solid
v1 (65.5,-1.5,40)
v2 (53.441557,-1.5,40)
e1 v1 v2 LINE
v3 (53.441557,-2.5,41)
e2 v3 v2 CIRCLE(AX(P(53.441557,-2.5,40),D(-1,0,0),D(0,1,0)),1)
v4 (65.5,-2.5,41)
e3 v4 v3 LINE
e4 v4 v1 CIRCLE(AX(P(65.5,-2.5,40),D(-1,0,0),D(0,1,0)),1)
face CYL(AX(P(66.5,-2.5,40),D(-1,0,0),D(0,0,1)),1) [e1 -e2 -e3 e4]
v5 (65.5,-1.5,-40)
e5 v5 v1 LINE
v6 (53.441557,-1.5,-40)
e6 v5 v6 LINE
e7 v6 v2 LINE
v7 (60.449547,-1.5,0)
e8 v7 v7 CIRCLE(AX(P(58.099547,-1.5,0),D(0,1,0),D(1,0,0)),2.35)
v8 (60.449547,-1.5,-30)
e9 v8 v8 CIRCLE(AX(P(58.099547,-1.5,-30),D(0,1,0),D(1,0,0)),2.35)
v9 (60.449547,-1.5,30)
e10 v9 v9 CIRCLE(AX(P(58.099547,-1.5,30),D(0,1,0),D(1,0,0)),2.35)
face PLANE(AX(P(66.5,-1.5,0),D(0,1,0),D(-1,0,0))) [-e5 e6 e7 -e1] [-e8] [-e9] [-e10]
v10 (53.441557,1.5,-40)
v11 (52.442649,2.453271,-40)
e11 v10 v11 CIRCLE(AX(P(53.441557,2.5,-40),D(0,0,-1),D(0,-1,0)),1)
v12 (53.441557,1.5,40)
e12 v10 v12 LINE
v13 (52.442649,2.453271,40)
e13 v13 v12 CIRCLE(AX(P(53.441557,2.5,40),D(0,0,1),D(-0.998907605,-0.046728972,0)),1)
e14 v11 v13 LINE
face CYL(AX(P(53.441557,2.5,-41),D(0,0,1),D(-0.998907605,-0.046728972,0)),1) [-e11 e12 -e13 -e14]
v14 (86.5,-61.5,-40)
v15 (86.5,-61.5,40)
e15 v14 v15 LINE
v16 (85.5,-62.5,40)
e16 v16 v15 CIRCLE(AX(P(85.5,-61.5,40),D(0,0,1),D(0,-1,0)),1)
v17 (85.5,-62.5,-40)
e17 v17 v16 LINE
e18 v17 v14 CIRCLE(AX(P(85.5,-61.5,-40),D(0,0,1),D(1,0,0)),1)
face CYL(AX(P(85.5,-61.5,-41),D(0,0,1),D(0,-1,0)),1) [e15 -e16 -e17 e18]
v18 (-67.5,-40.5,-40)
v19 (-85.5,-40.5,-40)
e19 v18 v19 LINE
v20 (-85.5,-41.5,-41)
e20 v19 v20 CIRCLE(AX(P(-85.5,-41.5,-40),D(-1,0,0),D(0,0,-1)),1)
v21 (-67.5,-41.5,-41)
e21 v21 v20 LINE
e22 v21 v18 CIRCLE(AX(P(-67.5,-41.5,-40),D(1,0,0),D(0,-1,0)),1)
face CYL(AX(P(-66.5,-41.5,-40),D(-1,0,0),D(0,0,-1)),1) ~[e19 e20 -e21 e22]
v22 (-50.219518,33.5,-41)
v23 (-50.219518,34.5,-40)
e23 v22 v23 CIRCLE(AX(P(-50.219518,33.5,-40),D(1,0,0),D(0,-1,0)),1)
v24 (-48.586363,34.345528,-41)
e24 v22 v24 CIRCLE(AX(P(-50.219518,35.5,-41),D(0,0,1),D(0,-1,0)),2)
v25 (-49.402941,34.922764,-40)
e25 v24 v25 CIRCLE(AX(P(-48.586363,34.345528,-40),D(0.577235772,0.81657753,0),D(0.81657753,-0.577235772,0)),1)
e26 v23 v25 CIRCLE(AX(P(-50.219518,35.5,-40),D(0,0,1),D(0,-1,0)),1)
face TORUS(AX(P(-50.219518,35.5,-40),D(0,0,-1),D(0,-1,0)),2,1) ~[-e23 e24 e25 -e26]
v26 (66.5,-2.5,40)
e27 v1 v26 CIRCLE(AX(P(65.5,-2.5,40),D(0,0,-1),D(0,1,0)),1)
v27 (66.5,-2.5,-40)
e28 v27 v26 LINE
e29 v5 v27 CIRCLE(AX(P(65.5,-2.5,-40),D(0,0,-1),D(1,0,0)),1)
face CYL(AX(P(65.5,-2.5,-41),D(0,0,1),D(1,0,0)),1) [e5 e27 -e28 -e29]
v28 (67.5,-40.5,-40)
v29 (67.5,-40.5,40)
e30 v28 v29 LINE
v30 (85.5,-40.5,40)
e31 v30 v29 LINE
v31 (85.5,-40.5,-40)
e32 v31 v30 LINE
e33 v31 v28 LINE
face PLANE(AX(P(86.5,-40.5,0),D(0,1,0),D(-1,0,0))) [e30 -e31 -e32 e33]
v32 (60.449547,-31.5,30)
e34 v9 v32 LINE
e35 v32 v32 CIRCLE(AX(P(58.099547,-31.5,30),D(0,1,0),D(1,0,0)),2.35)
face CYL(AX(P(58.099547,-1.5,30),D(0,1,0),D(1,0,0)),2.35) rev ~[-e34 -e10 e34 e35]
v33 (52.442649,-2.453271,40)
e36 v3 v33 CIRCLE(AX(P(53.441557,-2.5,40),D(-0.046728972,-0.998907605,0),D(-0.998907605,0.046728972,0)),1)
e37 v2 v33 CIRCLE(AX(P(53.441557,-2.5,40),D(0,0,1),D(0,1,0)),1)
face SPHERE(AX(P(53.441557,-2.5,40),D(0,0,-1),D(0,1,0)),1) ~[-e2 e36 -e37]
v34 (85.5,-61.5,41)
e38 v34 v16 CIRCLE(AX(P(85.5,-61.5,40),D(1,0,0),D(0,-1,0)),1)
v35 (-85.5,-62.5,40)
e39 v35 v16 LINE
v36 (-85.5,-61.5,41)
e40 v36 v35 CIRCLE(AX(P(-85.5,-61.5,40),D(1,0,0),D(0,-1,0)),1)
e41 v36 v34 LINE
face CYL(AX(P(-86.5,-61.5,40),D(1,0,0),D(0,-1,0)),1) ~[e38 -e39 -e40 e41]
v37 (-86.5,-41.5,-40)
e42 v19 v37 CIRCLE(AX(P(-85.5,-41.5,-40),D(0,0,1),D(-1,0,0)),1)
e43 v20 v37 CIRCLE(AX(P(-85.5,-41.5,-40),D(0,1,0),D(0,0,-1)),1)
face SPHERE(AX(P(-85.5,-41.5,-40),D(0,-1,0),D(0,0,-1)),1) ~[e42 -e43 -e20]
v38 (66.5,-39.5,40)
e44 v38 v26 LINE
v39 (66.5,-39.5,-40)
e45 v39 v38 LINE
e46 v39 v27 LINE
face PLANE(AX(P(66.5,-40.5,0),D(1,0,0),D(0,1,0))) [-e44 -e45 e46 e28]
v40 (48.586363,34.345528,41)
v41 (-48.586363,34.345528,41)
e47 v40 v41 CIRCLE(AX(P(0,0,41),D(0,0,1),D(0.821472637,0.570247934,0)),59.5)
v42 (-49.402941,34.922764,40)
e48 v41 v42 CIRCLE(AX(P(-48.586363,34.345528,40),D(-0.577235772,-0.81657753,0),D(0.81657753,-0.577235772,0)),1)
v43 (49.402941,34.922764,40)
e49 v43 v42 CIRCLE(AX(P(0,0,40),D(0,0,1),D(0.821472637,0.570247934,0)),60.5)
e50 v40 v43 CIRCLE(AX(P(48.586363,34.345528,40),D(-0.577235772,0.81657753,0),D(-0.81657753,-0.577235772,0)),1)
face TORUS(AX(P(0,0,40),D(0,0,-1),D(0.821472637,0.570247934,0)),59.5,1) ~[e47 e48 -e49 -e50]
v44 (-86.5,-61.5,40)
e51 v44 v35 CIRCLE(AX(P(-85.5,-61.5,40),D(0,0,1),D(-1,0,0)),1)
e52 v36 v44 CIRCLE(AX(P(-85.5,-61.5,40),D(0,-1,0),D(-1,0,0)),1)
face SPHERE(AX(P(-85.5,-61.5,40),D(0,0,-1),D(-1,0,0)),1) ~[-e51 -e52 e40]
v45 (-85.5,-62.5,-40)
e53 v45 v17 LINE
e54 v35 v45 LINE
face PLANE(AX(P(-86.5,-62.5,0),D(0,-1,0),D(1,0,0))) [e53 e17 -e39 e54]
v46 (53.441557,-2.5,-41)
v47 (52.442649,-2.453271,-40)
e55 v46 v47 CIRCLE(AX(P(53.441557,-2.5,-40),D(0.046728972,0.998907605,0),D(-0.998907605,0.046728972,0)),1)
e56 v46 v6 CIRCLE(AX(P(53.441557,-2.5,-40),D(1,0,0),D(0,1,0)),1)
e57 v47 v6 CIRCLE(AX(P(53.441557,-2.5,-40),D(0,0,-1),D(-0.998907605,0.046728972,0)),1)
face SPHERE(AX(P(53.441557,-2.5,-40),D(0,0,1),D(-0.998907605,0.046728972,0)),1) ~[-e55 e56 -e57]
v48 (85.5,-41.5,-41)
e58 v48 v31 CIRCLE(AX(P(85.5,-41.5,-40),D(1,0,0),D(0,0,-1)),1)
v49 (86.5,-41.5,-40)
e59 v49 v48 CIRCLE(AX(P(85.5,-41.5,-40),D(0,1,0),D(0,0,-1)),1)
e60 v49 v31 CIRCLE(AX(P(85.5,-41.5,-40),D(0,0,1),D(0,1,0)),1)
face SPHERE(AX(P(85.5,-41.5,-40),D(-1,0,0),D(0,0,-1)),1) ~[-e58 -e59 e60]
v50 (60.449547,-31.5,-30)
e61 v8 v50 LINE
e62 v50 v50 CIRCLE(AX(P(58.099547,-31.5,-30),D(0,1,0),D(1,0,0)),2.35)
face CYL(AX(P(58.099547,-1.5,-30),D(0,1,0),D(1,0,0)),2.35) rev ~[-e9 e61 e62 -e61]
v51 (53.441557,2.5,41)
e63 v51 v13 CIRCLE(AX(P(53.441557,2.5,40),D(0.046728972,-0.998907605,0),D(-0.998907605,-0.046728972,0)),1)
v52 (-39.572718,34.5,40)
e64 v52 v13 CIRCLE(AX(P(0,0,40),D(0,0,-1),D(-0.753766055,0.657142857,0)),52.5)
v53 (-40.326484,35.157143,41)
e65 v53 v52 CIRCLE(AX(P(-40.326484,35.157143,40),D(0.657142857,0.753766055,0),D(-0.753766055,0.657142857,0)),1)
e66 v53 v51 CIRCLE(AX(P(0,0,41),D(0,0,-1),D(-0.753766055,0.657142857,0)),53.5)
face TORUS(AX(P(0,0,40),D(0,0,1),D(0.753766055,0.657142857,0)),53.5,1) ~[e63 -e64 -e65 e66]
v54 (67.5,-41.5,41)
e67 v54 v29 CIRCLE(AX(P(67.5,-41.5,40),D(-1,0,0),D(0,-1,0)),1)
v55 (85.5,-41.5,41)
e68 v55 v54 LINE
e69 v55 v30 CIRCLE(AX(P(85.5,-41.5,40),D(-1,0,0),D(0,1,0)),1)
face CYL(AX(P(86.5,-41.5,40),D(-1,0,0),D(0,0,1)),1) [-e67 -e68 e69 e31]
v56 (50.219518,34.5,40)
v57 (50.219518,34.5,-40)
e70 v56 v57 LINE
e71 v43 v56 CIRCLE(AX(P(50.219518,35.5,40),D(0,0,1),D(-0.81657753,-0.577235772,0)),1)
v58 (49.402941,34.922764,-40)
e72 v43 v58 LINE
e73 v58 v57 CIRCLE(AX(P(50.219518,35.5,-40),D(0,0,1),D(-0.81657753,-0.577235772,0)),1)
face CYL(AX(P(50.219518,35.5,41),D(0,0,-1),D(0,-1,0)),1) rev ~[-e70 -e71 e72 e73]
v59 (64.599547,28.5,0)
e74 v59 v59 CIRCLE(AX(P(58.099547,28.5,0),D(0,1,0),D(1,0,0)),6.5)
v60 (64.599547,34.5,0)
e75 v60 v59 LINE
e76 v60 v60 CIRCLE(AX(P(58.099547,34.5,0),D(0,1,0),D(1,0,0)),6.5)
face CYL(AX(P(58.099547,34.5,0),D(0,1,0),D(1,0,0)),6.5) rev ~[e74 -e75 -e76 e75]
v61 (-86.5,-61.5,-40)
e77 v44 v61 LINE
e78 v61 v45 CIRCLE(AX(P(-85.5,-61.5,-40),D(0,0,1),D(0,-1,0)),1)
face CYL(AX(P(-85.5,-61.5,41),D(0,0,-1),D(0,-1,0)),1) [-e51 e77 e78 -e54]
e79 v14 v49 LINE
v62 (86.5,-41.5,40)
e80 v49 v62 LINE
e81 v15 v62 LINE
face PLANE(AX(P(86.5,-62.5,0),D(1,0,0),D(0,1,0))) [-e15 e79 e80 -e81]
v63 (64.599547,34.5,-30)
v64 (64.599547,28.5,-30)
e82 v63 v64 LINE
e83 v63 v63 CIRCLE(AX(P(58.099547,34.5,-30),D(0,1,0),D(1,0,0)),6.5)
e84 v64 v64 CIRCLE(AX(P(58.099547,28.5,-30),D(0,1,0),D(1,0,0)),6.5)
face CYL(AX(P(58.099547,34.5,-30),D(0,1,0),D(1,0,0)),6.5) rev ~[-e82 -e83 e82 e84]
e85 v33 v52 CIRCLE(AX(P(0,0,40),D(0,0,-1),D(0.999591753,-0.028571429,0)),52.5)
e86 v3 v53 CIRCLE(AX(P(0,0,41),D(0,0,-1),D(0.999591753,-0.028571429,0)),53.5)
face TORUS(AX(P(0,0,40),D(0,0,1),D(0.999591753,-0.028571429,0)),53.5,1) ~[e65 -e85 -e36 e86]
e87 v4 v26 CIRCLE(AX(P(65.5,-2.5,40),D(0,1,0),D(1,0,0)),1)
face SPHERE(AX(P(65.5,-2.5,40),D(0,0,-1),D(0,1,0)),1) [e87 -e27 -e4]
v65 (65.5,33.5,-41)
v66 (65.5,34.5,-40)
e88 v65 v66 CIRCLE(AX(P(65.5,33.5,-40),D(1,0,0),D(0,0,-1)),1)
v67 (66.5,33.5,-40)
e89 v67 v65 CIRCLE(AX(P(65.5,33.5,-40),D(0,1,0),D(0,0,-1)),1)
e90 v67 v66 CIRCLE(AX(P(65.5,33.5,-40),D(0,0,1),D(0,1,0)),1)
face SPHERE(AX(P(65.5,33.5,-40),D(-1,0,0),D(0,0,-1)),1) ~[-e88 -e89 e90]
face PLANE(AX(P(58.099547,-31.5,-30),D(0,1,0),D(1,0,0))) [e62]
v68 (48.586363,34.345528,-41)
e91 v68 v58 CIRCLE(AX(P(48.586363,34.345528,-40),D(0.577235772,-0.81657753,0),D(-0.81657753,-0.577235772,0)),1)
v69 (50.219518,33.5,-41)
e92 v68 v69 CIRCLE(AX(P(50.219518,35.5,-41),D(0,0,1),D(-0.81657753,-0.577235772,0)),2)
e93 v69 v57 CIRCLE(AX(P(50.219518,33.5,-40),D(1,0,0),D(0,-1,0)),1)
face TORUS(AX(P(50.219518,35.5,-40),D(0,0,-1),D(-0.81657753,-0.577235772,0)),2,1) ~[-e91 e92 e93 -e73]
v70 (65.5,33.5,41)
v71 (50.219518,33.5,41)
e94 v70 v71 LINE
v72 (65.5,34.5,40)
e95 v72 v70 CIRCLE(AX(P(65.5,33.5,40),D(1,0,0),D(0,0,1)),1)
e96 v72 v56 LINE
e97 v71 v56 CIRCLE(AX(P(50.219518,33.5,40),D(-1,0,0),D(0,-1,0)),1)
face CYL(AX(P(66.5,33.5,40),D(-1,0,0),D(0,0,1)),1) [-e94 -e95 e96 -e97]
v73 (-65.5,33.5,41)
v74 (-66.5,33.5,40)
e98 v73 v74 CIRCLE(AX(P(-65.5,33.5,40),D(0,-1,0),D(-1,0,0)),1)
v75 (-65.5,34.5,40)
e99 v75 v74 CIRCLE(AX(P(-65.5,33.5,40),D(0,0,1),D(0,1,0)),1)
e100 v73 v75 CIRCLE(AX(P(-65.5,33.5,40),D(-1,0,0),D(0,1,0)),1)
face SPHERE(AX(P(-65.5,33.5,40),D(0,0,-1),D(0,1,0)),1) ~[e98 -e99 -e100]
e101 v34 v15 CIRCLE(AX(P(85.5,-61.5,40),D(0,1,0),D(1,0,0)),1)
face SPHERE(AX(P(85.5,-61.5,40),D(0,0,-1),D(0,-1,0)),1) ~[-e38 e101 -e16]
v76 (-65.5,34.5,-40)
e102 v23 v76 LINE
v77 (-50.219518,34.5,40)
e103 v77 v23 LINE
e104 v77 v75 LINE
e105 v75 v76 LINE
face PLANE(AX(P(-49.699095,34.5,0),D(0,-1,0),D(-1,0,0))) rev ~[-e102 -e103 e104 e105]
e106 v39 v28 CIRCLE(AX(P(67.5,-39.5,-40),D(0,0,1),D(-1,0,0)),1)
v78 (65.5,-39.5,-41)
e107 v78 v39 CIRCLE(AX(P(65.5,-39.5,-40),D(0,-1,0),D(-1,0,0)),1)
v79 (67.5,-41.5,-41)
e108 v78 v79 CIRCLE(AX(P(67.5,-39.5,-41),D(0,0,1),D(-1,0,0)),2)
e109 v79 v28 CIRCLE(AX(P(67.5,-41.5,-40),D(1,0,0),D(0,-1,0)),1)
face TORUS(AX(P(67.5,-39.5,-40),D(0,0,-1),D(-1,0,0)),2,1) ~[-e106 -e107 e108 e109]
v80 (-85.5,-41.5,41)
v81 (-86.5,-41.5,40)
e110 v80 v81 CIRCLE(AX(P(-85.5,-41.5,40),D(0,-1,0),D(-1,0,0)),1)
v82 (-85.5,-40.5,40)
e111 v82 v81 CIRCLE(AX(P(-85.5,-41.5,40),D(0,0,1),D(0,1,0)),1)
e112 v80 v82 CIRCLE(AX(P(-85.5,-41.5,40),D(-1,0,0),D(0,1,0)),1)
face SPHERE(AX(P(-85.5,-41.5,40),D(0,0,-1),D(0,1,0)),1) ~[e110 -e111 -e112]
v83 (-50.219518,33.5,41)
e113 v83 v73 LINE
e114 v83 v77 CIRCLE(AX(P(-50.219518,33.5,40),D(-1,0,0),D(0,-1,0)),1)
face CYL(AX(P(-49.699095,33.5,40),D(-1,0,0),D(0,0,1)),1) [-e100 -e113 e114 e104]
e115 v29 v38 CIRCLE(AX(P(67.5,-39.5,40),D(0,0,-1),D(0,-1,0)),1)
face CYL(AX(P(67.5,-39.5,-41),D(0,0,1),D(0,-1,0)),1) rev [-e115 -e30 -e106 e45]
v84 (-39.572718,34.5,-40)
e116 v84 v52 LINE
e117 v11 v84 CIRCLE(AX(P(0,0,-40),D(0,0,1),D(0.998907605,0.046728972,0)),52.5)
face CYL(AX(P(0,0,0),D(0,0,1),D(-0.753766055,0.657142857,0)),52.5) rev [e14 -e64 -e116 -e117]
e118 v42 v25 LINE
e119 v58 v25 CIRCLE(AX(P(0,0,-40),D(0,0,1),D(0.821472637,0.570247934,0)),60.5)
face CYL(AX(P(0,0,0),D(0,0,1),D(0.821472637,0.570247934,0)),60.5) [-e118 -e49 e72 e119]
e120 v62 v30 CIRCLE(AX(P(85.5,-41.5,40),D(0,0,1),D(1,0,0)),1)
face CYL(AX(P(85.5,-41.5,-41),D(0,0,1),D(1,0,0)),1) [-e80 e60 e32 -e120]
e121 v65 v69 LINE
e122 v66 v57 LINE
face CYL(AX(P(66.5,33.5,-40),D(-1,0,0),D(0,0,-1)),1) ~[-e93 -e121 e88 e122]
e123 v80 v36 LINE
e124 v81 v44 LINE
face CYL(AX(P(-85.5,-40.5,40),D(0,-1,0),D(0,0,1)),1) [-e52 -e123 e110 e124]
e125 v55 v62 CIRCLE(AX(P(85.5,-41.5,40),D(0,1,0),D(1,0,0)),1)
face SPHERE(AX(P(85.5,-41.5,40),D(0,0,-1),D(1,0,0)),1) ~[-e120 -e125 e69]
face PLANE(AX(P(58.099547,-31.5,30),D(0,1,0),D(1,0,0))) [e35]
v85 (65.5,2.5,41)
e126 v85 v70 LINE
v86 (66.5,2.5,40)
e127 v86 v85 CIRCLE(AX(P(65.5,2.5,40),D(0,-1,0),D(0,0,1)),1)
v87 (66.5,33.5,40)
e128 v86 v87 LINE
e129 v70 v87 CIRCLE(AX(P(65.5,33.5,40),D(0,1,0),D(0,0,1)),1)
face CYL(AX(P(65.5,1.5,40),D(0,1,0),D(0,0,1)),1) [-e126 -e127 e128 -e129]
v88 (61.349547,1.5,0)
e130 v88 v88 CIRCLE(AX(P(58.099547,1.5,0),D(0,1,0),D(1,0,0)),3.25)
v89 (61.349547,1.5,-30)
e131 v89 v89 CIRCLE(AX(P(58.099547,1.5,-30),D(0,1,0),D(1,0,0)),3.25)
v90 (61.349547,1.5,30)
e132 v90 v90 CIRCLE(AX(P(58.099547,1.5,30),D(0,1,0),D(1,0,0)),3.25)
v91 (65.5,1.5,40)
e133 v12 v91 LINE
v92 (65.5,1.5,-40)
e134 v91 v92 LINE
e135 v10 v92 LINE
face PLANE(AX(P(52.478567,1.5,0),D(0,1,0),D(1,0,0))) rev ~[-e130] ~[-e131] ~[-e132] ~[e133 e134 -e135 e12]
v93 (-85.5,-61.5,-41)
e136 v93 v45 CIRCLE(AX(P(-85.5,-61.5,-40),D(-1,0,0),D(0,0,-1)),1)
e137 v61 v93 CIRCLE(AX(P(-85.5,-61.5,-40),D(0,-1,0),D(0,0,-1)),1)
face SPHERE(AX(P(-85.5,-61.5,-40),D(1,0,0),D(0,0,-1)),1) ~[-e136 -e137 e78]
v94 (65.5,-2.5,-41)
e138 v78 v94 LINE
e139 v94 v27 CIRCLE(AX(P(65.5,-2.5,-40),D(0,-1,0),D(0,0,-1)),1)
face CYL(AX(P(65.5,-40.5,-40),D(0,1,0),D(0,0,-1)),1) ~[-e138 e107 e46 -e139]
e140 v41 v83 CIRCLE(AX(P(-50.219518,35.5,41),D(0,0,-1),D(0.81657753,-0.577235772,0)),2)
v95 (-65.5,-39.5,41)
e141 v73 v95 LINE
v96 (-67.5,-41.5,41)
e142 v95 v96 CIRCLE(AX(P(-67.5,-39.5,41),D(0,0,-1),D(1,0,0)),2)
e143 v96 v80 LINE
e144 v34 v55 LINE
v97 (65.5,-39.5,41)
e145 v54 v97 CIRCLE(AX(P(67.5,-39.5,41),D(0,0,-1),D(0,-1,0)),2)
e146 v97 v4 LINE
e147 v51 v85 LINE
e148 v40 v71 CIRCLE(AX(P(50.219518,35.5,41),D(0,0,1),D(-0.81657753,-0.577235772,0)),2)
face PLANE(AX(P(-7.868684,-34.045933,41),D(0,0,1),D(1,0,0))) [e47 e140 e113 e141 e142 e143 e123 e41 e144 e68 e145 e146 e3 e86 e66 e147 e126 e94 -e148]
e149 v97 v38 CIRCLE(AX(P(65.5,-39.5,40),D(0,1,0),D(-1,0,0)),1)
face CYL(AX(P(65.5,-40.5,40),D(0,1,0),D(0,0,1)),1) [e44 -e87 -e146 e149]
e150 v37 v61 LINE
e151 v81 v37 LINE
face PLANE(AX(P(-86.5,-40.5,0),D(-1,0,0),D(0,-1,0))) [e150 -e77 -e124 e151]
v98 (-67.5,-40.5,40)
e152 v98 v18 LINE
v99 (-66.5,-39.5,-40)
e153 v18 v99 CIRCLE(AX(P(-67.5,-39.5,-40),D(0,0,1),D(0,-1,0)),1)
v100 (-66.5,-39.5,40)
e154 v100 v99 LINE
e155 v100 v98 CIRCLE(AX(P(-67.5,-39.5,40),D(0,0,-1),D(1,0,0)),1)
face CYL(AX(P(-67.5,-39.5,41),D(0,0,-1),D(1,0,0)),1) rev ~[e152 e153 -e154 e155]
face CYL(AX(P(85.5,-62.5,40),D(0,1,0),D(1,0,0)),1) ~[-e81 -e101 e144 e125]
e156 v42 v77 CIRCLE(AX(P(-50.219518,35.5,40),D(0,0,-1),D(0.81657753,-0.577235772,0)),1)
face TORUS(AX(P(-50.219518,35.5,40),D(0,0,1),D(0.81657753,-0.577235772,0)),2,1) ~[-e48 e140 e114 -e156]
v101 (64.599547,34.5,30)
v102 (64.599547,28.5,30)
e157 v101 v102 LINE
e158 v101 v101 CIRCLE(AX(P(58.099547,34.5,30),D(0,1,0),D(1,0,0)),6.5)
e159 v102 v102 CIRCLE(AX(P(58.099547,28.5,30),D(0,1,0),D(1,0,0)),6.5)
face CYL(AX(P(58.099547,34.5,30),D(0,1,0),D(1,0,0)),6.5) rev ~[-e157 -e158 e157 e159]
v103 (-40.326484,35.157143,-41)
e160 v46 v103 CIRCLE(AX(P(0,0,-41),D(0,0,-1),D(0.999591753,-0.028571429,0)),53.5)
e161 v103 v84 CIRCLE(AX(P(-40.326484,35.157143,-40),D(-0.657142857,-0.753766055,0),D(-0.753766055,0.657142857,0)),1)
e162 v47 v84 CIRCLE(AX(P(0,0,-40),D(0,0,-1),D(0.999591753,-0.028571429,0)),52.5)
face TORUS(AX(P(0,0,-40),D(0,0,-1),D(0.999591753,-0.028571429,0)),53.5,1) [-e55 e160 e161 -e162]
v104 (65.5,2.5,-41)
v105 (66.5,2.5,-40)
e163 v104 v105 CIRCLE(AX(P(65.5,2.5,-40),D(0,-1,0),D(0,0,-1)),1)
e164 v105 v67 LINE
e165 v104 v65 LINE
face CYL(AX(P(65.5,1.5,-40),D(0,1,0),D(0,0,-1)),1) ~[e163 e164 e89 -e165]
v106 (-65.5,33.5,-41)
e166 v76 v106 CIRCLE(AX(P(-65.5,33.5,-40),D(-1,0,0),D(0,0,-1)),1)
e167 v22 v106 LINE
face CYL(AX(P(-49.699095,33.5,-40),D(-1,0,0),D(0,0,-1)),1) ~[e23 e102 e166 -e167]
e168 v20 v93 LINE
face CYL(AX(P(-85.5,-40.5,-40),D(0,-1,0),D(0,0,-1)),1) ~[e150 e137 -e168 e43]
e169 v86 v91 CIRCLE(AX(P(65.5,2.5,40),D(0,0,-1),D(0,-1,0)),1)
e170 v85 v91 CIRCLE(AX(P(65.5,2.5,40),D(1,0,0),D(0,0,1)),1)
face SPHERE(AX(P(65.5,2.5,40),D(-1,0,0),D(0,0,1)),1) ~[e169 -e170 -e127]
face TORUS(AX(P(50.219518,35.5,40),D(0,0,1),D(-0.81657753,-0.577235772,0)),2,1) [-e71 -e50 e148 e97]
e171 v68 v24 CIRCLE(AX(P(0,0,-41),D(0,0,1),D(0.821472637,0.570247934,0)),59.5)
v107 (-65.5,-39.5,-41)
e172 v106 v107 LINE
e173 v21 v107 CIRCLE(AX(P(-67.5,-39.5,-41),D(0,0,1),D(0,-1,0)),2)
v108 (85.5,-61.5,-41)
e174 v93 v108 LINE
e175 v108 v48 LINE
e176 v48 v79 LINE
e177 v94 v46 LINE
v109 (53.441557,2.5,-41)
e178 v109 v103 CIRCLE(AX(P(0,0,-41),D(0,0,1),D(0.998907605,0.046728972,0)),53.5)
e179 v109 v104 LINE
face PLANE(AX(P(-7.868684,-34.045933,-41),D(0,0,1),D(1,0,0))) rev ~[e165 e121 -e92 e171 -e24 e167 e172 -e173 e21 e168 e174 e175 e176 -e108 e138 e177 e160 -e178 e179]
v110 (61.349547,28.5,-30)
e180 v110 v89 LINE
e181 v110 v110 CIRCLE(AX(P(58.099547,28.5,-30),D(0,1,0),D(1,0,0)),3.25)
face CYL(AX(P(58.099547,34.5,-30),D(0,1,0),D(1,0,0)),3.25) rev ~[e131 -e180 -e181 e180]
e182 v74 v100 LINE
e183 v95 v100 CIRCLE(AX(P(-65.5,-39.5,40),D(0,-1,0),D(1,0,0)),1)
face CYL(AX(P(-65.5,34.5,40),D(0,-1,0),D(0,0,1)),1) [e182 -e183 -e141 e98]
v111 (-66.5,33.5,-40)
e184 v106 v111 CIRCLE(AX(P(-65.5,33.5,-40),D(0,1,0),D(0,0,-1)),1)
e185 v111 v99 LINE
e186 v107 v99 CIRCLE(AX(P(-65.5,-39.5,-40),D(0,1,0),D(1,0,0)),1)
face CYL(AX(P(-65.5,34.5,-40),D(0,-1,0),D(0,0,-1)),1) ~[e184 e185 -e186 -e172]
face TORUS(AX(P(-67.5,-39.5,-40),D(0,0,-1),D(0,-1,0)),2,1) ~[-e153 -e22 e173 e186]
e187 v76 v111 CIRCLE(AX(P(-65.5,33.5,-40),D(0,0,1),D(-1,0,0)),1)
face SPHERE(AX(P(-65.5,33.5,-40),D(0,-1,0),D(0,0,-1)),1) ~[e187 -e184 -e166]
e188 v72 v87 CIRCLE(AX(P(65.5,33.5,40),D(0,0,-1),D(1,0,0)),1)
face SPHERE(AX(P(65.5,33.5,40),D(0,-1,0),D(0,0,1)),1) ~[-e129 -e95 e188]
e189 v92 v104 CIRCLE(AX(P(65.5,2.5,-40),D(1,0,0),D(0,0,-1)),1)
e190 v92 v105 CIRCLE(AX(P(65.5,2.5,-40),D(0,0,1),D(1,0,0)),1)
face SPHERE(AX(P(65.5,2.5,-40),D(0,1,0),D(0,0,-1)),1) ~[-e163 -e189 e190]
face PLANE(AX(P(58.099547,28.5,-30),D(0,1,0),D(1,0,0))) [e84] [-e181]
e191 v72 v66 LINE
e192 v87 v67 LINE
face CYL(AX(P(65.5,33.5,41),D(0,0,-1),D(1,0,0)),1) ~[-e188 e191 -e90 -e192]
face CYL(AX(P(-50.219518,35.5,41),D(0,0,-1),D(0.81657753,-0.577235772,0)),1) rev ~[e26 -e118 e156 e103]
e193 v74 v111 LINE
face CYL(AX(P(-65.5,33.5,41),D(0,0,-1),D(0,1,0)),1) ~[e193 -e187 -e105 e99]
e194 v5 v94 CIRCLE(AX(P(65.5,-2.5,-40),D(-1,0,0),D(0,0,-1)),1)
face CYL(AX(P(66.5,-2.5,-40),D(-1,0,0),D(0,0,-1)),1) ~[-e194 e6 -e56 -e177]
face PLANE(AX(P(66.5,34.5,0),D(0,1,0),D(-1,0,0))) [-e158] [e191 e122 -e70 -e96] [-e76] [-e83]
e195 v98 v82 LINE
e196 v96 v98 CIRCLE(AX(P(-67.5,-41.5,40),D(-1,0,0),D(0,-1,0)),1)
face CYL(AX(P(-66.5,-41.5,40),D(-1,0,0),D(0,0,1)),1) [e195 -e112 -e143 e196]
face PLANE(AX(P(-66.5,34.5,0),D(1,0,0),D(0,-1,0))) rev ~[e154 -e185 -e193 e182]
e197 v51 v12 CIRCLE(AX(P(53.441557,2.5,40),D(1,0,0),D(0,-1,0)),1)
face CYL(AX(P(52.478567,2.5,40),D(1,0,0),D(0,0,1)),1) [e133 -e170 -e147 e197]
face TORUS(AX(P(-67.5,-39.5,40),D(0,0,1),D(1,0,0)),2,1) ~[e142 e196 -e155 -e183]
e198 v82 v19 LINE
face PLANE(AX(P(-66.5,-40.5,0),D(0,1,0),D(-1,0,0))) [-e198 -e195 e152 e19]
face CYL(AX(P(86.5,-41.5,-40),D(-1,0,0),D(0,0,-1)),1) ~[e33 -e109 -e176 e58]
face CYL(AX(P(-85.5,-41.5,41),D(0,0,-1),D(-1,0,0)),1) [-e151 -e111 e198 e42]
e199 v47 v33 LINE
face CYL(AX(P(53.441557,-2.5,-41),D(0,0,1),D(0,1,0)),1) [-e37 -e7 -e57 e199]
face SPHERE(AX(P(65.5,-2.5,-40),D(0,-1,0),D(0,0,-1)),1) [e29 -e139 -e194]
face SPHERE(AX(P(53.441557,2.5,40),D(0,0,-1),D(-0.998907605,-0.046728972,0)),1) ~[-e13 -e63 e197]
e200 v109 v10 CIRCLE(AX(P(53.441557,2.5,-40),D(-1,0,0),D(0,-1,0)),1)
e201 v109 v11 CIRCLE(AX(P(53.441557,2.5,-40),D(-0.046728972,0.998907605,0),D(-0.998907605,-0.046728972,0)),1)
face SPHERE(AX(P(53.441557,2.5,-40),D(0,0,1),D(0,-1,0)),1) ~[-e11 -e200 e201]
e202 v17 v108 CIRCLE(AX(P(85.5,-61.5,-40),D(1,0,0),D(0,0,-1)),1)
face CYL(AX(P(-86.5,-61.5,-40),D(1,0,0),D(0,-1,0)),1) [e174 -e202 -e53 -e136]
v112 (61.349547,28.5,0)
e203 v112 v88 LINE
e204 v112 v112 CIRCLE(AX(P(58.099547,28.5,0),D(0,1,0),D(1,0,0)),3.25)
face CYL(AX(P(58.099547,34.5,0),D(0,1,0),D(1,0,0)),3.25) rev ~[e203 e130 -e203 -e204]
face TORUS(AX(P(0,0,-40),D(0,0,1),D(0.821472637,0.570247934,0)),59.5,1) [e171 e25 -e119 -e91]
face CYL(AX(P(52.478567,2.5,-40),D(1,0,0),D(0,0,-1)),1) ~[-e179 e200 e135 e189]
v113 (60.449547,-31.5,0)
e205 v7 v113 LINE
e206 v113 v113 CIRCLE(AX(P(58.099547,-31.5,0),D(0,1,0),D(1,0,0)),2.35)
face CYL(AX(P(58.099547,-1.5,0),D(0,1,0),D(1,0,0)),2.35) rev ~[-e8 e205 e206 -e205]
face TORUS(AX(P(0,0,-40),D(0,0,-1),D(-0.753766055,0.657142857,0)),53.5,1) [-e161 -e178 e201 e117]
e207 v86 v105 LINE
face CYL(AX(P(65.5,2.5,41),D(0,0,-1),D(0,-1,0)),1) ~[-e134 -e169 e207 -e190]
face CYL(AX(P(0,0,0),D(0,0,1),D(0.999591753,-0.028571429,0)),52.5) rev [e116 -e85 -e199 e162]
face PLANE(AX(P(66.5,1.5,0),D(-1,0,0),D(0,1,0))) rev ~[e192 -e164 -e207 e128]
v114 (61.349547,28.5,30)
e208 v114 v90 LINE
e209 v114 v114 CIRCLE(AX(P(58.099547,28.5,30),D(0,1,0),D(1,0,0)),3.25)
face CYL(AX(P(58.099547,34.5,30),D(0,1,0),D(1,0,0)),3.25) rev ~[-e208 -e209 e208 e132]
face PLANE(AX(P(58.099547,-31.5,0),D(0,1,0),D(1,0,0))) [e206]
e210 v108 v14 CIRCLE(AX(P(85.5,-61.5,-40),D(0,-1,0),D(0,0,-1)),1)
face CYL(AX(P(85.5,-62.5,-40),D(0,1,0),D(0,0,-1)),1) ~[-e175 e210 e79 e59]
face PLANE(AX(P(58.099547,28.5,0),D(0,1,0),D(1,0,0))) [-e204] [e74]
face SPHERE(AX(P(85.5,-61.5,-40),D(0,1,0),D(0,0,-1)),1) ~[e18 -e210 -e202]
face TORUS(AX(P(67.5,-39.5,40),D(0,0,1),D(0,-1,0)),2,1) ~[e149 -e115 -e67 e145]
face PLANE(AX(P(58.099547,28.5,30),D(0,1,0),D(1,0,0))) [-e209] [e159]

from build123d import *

# Parameters (mm, degrees)
EXTRUDE_1_DEPTH     = 41
SKETCH_2_R          = 6.5
CUT_EXTRUDE_1_DEPTH = 6
SKETCH_3_R          = 3.25
CUT_EXTRUDE_2_DEPTH = 36
SKETCH_4_R          = 2.35
CUT_EXTRUDE_3_DEPTH = 30
FILLET_1_R          = 1


with BuildPart() as part:
    # Эскиз1 → Бобышка-Вытянуть1 (new body, symmetric)
    with BuildSketch(Plane.XY):
        with BuildLine():
            Line((-86.5, -62.5), (86.5, -62.5))
            Line((86.5, -62.5), (86.5, -40.5))
            Line((86.5, -40.5), (66.5, -40.5))
            Line((66.5, -40.5), (66.5, -1.5))
            Line((66.5, -1.5), (60.4814021, -1.5))
            ThreePointArc((60.4814021, -1.5), (-18.790011681, -57.508133868), (-49.699094559, 34.5))
            Line((-49.699094559, 34.5), (-66.5, 34.5))
            Line((-66.5, 34.5), (-66.5, -40.5))
            Line((-66.5, -40.5), (-86.5, -40.5))
            Line((-86.5, -40.5), (-86.5, -62.5))
        make_face()
        with BuildLine():
            ThreePointArc((-49.699094559, 34.5), (-18.790011681, -57.508133868), (60.4814021, -1.5))
            Line((60.4814021, -1.5), (52.478567054, -1.5))
            ThreePointArc((52.478567054, -1.5), (-19.121721569, -48.893862235), (-39.572717875, 34.5))
            Line((-39.572717875, 34.5), (-49.699094559, 34.5))
        make_face()
        with BuildLine():
            ThreePointArc((49.699094559, 34.5), (0, 60.5), (-49.699094559, 34.5))
            Line((-49.699094559, 34.5), (-39.572717875, 34.5))
            ThreePointArc((-39.572717875, 34.5), (0, 52.5), (39.572717875, 34.5))
            Line((39.572717875, 34.5), (49.699094559, 34.5))
        make_face()
        with BuildLine():
            Line((52.478567054, 1.5), (60.4814021, 1.5))
            ThreePointArc((60.4814021, 1.5), (57.508133868, 18.790011681), (49.699094559, 34.5))
            Line((49.699094559, 34.5), (39.572717875, 34.5))
            ThreePointArc((39.572717875, 34.5), (48.893862235, 19.121721569), (52.478567054, 1.5))
        make_face()
        with BuildLine():
            Line((60.4814021, 1.5), (66.5, 1.5))
            Line((66.5, 1.5), (66.5, 34.5))
            Line((66.5, 34.5), (49.699094559, 34.5))
            ThreePointArc((49.699094559, 34.5), (57.508133868, 18.790011681), (60.4814021, 1.5))
        make_face()
    extrude(amount=EXTRUDE_1_DEPTH, both=True)

    # Эскиз2 → Вырез-Вытянуть1 (cut)
    with BuildSketch(Plane(origin=(0, 34.5, 0), x_dir=(1, 0, 0), z_dir=(0, 1, 0))):
        with Locations((58.09954728, 30)):
            Circle(SKETCH_2_R)
        with Locations((58.09954728, 0)):
            Circle(SKETCH_2_R)
        with Locations((58.09954728, -30)):
            Circle(SKETCH_2_R)
    extrude(amount=-CUT_EXTRUDE_1_DEPTH, mode=Mode.SUBTRACT)

    # Эскиз3 → Вырез-Вытянуть2 (cut)
    with BuildSketch(Plane(origin=(0, 34.5, 0), x_dir=(1, 0, 0), z_dir=(0, 1, 0))):
        with Locations((58.09954728, 30)):
            Circle(SKETCH_3_R)
        with Locations((58.09954728, 0)):
            Circle(SKETCH_3_R)
        with Locations((58.09954728, -30)):
            Circle(SKETCH_3_R)
    extrude(amount=-CUT_EXTRUDE_2_DEPTH, mode=Mode.SUBTRACT)

    # Эскиз4 → Вырез-Вытянуть3 (cut)
    with BuildSketch(Plane(origin=(0, -1.5, 0), x_dir=(1, 0, 0), z_dir=(0, 1, 0))):
        with Locations((58.09954728, 30)):
            Circle(SKETCH_4_R)
        with Locations((58.09954728, 0)):
            Circle(SKETCH_4_R)
        with Locations((58.09954728, -30)):
            Circle(SKETCH_4_R)
    extrude(amount=-CUT_EXTRUDE_3_DEPTH, mode=Mode.SUBTRACT)

    # Скругление1
    fillet_1_edges = [part.edges().sort_by_distance(p)[0] for p in [
        (66.5, -21, -41),
        (59.489283527, 1.5, 41),
        (76.5, -40.5, -41),
        (86.5, -51.5, -41),
        (0, -62.5, -41),
        (-86.5, -51.5, -41),
        (-76.5, -40.5, -41),
        (-66.5, -3, -41),
        (-58.09954728, 34.5, -41),
        (0, 60.5, -41),
        (58.09954728, 34.5, -41),
        (66.5, 18, -41),
        (66.5, 18, 41),
        (59.489283527, 1.5, -41),
        (-52.5, 0, -41),
        (59.489283527, -1.5, -41),
        (58.09954728, 34.5, 41),
        (66.5, -1.5, 0),
        (66.5, -40.5, 0),
        (86.5, -40.5, 0),
        (86.5, -62.5, 0),
        (-86.5, -62.5, 0),
        (-86.5, -40.5, 0),
        (-66.5, -40.5, 0),
        (-66.5, 34.5, 0),
        (-49.699094559, 34.5, 0),
        (49.699094559, 34.5, 0),
        (66.5, 34.5, 0),
        (66.5, 1.5, 0),
        (52.478567054, 1.5, 0),
        (52.478567054, -1.5, 0),
        (0, 60.5, 41),
        (-58.09954728, 34.5, 41),
        (-66.5, -3, 41),
        (59.489283527, -1.5, 41),
        (-76.5, -40.5, 41),
        (-86.5, -51.5, 41),
        (0, -62.5, 41),
        (86.5, -51.5, 41),
        (76.5, -40.5, 41),
        (66.5, -21, 41),
        (-52.5, 0, 41),
    ]]
    fillet(fillet_1_edges, radius=FILLET_1_R)


solid = part.part
